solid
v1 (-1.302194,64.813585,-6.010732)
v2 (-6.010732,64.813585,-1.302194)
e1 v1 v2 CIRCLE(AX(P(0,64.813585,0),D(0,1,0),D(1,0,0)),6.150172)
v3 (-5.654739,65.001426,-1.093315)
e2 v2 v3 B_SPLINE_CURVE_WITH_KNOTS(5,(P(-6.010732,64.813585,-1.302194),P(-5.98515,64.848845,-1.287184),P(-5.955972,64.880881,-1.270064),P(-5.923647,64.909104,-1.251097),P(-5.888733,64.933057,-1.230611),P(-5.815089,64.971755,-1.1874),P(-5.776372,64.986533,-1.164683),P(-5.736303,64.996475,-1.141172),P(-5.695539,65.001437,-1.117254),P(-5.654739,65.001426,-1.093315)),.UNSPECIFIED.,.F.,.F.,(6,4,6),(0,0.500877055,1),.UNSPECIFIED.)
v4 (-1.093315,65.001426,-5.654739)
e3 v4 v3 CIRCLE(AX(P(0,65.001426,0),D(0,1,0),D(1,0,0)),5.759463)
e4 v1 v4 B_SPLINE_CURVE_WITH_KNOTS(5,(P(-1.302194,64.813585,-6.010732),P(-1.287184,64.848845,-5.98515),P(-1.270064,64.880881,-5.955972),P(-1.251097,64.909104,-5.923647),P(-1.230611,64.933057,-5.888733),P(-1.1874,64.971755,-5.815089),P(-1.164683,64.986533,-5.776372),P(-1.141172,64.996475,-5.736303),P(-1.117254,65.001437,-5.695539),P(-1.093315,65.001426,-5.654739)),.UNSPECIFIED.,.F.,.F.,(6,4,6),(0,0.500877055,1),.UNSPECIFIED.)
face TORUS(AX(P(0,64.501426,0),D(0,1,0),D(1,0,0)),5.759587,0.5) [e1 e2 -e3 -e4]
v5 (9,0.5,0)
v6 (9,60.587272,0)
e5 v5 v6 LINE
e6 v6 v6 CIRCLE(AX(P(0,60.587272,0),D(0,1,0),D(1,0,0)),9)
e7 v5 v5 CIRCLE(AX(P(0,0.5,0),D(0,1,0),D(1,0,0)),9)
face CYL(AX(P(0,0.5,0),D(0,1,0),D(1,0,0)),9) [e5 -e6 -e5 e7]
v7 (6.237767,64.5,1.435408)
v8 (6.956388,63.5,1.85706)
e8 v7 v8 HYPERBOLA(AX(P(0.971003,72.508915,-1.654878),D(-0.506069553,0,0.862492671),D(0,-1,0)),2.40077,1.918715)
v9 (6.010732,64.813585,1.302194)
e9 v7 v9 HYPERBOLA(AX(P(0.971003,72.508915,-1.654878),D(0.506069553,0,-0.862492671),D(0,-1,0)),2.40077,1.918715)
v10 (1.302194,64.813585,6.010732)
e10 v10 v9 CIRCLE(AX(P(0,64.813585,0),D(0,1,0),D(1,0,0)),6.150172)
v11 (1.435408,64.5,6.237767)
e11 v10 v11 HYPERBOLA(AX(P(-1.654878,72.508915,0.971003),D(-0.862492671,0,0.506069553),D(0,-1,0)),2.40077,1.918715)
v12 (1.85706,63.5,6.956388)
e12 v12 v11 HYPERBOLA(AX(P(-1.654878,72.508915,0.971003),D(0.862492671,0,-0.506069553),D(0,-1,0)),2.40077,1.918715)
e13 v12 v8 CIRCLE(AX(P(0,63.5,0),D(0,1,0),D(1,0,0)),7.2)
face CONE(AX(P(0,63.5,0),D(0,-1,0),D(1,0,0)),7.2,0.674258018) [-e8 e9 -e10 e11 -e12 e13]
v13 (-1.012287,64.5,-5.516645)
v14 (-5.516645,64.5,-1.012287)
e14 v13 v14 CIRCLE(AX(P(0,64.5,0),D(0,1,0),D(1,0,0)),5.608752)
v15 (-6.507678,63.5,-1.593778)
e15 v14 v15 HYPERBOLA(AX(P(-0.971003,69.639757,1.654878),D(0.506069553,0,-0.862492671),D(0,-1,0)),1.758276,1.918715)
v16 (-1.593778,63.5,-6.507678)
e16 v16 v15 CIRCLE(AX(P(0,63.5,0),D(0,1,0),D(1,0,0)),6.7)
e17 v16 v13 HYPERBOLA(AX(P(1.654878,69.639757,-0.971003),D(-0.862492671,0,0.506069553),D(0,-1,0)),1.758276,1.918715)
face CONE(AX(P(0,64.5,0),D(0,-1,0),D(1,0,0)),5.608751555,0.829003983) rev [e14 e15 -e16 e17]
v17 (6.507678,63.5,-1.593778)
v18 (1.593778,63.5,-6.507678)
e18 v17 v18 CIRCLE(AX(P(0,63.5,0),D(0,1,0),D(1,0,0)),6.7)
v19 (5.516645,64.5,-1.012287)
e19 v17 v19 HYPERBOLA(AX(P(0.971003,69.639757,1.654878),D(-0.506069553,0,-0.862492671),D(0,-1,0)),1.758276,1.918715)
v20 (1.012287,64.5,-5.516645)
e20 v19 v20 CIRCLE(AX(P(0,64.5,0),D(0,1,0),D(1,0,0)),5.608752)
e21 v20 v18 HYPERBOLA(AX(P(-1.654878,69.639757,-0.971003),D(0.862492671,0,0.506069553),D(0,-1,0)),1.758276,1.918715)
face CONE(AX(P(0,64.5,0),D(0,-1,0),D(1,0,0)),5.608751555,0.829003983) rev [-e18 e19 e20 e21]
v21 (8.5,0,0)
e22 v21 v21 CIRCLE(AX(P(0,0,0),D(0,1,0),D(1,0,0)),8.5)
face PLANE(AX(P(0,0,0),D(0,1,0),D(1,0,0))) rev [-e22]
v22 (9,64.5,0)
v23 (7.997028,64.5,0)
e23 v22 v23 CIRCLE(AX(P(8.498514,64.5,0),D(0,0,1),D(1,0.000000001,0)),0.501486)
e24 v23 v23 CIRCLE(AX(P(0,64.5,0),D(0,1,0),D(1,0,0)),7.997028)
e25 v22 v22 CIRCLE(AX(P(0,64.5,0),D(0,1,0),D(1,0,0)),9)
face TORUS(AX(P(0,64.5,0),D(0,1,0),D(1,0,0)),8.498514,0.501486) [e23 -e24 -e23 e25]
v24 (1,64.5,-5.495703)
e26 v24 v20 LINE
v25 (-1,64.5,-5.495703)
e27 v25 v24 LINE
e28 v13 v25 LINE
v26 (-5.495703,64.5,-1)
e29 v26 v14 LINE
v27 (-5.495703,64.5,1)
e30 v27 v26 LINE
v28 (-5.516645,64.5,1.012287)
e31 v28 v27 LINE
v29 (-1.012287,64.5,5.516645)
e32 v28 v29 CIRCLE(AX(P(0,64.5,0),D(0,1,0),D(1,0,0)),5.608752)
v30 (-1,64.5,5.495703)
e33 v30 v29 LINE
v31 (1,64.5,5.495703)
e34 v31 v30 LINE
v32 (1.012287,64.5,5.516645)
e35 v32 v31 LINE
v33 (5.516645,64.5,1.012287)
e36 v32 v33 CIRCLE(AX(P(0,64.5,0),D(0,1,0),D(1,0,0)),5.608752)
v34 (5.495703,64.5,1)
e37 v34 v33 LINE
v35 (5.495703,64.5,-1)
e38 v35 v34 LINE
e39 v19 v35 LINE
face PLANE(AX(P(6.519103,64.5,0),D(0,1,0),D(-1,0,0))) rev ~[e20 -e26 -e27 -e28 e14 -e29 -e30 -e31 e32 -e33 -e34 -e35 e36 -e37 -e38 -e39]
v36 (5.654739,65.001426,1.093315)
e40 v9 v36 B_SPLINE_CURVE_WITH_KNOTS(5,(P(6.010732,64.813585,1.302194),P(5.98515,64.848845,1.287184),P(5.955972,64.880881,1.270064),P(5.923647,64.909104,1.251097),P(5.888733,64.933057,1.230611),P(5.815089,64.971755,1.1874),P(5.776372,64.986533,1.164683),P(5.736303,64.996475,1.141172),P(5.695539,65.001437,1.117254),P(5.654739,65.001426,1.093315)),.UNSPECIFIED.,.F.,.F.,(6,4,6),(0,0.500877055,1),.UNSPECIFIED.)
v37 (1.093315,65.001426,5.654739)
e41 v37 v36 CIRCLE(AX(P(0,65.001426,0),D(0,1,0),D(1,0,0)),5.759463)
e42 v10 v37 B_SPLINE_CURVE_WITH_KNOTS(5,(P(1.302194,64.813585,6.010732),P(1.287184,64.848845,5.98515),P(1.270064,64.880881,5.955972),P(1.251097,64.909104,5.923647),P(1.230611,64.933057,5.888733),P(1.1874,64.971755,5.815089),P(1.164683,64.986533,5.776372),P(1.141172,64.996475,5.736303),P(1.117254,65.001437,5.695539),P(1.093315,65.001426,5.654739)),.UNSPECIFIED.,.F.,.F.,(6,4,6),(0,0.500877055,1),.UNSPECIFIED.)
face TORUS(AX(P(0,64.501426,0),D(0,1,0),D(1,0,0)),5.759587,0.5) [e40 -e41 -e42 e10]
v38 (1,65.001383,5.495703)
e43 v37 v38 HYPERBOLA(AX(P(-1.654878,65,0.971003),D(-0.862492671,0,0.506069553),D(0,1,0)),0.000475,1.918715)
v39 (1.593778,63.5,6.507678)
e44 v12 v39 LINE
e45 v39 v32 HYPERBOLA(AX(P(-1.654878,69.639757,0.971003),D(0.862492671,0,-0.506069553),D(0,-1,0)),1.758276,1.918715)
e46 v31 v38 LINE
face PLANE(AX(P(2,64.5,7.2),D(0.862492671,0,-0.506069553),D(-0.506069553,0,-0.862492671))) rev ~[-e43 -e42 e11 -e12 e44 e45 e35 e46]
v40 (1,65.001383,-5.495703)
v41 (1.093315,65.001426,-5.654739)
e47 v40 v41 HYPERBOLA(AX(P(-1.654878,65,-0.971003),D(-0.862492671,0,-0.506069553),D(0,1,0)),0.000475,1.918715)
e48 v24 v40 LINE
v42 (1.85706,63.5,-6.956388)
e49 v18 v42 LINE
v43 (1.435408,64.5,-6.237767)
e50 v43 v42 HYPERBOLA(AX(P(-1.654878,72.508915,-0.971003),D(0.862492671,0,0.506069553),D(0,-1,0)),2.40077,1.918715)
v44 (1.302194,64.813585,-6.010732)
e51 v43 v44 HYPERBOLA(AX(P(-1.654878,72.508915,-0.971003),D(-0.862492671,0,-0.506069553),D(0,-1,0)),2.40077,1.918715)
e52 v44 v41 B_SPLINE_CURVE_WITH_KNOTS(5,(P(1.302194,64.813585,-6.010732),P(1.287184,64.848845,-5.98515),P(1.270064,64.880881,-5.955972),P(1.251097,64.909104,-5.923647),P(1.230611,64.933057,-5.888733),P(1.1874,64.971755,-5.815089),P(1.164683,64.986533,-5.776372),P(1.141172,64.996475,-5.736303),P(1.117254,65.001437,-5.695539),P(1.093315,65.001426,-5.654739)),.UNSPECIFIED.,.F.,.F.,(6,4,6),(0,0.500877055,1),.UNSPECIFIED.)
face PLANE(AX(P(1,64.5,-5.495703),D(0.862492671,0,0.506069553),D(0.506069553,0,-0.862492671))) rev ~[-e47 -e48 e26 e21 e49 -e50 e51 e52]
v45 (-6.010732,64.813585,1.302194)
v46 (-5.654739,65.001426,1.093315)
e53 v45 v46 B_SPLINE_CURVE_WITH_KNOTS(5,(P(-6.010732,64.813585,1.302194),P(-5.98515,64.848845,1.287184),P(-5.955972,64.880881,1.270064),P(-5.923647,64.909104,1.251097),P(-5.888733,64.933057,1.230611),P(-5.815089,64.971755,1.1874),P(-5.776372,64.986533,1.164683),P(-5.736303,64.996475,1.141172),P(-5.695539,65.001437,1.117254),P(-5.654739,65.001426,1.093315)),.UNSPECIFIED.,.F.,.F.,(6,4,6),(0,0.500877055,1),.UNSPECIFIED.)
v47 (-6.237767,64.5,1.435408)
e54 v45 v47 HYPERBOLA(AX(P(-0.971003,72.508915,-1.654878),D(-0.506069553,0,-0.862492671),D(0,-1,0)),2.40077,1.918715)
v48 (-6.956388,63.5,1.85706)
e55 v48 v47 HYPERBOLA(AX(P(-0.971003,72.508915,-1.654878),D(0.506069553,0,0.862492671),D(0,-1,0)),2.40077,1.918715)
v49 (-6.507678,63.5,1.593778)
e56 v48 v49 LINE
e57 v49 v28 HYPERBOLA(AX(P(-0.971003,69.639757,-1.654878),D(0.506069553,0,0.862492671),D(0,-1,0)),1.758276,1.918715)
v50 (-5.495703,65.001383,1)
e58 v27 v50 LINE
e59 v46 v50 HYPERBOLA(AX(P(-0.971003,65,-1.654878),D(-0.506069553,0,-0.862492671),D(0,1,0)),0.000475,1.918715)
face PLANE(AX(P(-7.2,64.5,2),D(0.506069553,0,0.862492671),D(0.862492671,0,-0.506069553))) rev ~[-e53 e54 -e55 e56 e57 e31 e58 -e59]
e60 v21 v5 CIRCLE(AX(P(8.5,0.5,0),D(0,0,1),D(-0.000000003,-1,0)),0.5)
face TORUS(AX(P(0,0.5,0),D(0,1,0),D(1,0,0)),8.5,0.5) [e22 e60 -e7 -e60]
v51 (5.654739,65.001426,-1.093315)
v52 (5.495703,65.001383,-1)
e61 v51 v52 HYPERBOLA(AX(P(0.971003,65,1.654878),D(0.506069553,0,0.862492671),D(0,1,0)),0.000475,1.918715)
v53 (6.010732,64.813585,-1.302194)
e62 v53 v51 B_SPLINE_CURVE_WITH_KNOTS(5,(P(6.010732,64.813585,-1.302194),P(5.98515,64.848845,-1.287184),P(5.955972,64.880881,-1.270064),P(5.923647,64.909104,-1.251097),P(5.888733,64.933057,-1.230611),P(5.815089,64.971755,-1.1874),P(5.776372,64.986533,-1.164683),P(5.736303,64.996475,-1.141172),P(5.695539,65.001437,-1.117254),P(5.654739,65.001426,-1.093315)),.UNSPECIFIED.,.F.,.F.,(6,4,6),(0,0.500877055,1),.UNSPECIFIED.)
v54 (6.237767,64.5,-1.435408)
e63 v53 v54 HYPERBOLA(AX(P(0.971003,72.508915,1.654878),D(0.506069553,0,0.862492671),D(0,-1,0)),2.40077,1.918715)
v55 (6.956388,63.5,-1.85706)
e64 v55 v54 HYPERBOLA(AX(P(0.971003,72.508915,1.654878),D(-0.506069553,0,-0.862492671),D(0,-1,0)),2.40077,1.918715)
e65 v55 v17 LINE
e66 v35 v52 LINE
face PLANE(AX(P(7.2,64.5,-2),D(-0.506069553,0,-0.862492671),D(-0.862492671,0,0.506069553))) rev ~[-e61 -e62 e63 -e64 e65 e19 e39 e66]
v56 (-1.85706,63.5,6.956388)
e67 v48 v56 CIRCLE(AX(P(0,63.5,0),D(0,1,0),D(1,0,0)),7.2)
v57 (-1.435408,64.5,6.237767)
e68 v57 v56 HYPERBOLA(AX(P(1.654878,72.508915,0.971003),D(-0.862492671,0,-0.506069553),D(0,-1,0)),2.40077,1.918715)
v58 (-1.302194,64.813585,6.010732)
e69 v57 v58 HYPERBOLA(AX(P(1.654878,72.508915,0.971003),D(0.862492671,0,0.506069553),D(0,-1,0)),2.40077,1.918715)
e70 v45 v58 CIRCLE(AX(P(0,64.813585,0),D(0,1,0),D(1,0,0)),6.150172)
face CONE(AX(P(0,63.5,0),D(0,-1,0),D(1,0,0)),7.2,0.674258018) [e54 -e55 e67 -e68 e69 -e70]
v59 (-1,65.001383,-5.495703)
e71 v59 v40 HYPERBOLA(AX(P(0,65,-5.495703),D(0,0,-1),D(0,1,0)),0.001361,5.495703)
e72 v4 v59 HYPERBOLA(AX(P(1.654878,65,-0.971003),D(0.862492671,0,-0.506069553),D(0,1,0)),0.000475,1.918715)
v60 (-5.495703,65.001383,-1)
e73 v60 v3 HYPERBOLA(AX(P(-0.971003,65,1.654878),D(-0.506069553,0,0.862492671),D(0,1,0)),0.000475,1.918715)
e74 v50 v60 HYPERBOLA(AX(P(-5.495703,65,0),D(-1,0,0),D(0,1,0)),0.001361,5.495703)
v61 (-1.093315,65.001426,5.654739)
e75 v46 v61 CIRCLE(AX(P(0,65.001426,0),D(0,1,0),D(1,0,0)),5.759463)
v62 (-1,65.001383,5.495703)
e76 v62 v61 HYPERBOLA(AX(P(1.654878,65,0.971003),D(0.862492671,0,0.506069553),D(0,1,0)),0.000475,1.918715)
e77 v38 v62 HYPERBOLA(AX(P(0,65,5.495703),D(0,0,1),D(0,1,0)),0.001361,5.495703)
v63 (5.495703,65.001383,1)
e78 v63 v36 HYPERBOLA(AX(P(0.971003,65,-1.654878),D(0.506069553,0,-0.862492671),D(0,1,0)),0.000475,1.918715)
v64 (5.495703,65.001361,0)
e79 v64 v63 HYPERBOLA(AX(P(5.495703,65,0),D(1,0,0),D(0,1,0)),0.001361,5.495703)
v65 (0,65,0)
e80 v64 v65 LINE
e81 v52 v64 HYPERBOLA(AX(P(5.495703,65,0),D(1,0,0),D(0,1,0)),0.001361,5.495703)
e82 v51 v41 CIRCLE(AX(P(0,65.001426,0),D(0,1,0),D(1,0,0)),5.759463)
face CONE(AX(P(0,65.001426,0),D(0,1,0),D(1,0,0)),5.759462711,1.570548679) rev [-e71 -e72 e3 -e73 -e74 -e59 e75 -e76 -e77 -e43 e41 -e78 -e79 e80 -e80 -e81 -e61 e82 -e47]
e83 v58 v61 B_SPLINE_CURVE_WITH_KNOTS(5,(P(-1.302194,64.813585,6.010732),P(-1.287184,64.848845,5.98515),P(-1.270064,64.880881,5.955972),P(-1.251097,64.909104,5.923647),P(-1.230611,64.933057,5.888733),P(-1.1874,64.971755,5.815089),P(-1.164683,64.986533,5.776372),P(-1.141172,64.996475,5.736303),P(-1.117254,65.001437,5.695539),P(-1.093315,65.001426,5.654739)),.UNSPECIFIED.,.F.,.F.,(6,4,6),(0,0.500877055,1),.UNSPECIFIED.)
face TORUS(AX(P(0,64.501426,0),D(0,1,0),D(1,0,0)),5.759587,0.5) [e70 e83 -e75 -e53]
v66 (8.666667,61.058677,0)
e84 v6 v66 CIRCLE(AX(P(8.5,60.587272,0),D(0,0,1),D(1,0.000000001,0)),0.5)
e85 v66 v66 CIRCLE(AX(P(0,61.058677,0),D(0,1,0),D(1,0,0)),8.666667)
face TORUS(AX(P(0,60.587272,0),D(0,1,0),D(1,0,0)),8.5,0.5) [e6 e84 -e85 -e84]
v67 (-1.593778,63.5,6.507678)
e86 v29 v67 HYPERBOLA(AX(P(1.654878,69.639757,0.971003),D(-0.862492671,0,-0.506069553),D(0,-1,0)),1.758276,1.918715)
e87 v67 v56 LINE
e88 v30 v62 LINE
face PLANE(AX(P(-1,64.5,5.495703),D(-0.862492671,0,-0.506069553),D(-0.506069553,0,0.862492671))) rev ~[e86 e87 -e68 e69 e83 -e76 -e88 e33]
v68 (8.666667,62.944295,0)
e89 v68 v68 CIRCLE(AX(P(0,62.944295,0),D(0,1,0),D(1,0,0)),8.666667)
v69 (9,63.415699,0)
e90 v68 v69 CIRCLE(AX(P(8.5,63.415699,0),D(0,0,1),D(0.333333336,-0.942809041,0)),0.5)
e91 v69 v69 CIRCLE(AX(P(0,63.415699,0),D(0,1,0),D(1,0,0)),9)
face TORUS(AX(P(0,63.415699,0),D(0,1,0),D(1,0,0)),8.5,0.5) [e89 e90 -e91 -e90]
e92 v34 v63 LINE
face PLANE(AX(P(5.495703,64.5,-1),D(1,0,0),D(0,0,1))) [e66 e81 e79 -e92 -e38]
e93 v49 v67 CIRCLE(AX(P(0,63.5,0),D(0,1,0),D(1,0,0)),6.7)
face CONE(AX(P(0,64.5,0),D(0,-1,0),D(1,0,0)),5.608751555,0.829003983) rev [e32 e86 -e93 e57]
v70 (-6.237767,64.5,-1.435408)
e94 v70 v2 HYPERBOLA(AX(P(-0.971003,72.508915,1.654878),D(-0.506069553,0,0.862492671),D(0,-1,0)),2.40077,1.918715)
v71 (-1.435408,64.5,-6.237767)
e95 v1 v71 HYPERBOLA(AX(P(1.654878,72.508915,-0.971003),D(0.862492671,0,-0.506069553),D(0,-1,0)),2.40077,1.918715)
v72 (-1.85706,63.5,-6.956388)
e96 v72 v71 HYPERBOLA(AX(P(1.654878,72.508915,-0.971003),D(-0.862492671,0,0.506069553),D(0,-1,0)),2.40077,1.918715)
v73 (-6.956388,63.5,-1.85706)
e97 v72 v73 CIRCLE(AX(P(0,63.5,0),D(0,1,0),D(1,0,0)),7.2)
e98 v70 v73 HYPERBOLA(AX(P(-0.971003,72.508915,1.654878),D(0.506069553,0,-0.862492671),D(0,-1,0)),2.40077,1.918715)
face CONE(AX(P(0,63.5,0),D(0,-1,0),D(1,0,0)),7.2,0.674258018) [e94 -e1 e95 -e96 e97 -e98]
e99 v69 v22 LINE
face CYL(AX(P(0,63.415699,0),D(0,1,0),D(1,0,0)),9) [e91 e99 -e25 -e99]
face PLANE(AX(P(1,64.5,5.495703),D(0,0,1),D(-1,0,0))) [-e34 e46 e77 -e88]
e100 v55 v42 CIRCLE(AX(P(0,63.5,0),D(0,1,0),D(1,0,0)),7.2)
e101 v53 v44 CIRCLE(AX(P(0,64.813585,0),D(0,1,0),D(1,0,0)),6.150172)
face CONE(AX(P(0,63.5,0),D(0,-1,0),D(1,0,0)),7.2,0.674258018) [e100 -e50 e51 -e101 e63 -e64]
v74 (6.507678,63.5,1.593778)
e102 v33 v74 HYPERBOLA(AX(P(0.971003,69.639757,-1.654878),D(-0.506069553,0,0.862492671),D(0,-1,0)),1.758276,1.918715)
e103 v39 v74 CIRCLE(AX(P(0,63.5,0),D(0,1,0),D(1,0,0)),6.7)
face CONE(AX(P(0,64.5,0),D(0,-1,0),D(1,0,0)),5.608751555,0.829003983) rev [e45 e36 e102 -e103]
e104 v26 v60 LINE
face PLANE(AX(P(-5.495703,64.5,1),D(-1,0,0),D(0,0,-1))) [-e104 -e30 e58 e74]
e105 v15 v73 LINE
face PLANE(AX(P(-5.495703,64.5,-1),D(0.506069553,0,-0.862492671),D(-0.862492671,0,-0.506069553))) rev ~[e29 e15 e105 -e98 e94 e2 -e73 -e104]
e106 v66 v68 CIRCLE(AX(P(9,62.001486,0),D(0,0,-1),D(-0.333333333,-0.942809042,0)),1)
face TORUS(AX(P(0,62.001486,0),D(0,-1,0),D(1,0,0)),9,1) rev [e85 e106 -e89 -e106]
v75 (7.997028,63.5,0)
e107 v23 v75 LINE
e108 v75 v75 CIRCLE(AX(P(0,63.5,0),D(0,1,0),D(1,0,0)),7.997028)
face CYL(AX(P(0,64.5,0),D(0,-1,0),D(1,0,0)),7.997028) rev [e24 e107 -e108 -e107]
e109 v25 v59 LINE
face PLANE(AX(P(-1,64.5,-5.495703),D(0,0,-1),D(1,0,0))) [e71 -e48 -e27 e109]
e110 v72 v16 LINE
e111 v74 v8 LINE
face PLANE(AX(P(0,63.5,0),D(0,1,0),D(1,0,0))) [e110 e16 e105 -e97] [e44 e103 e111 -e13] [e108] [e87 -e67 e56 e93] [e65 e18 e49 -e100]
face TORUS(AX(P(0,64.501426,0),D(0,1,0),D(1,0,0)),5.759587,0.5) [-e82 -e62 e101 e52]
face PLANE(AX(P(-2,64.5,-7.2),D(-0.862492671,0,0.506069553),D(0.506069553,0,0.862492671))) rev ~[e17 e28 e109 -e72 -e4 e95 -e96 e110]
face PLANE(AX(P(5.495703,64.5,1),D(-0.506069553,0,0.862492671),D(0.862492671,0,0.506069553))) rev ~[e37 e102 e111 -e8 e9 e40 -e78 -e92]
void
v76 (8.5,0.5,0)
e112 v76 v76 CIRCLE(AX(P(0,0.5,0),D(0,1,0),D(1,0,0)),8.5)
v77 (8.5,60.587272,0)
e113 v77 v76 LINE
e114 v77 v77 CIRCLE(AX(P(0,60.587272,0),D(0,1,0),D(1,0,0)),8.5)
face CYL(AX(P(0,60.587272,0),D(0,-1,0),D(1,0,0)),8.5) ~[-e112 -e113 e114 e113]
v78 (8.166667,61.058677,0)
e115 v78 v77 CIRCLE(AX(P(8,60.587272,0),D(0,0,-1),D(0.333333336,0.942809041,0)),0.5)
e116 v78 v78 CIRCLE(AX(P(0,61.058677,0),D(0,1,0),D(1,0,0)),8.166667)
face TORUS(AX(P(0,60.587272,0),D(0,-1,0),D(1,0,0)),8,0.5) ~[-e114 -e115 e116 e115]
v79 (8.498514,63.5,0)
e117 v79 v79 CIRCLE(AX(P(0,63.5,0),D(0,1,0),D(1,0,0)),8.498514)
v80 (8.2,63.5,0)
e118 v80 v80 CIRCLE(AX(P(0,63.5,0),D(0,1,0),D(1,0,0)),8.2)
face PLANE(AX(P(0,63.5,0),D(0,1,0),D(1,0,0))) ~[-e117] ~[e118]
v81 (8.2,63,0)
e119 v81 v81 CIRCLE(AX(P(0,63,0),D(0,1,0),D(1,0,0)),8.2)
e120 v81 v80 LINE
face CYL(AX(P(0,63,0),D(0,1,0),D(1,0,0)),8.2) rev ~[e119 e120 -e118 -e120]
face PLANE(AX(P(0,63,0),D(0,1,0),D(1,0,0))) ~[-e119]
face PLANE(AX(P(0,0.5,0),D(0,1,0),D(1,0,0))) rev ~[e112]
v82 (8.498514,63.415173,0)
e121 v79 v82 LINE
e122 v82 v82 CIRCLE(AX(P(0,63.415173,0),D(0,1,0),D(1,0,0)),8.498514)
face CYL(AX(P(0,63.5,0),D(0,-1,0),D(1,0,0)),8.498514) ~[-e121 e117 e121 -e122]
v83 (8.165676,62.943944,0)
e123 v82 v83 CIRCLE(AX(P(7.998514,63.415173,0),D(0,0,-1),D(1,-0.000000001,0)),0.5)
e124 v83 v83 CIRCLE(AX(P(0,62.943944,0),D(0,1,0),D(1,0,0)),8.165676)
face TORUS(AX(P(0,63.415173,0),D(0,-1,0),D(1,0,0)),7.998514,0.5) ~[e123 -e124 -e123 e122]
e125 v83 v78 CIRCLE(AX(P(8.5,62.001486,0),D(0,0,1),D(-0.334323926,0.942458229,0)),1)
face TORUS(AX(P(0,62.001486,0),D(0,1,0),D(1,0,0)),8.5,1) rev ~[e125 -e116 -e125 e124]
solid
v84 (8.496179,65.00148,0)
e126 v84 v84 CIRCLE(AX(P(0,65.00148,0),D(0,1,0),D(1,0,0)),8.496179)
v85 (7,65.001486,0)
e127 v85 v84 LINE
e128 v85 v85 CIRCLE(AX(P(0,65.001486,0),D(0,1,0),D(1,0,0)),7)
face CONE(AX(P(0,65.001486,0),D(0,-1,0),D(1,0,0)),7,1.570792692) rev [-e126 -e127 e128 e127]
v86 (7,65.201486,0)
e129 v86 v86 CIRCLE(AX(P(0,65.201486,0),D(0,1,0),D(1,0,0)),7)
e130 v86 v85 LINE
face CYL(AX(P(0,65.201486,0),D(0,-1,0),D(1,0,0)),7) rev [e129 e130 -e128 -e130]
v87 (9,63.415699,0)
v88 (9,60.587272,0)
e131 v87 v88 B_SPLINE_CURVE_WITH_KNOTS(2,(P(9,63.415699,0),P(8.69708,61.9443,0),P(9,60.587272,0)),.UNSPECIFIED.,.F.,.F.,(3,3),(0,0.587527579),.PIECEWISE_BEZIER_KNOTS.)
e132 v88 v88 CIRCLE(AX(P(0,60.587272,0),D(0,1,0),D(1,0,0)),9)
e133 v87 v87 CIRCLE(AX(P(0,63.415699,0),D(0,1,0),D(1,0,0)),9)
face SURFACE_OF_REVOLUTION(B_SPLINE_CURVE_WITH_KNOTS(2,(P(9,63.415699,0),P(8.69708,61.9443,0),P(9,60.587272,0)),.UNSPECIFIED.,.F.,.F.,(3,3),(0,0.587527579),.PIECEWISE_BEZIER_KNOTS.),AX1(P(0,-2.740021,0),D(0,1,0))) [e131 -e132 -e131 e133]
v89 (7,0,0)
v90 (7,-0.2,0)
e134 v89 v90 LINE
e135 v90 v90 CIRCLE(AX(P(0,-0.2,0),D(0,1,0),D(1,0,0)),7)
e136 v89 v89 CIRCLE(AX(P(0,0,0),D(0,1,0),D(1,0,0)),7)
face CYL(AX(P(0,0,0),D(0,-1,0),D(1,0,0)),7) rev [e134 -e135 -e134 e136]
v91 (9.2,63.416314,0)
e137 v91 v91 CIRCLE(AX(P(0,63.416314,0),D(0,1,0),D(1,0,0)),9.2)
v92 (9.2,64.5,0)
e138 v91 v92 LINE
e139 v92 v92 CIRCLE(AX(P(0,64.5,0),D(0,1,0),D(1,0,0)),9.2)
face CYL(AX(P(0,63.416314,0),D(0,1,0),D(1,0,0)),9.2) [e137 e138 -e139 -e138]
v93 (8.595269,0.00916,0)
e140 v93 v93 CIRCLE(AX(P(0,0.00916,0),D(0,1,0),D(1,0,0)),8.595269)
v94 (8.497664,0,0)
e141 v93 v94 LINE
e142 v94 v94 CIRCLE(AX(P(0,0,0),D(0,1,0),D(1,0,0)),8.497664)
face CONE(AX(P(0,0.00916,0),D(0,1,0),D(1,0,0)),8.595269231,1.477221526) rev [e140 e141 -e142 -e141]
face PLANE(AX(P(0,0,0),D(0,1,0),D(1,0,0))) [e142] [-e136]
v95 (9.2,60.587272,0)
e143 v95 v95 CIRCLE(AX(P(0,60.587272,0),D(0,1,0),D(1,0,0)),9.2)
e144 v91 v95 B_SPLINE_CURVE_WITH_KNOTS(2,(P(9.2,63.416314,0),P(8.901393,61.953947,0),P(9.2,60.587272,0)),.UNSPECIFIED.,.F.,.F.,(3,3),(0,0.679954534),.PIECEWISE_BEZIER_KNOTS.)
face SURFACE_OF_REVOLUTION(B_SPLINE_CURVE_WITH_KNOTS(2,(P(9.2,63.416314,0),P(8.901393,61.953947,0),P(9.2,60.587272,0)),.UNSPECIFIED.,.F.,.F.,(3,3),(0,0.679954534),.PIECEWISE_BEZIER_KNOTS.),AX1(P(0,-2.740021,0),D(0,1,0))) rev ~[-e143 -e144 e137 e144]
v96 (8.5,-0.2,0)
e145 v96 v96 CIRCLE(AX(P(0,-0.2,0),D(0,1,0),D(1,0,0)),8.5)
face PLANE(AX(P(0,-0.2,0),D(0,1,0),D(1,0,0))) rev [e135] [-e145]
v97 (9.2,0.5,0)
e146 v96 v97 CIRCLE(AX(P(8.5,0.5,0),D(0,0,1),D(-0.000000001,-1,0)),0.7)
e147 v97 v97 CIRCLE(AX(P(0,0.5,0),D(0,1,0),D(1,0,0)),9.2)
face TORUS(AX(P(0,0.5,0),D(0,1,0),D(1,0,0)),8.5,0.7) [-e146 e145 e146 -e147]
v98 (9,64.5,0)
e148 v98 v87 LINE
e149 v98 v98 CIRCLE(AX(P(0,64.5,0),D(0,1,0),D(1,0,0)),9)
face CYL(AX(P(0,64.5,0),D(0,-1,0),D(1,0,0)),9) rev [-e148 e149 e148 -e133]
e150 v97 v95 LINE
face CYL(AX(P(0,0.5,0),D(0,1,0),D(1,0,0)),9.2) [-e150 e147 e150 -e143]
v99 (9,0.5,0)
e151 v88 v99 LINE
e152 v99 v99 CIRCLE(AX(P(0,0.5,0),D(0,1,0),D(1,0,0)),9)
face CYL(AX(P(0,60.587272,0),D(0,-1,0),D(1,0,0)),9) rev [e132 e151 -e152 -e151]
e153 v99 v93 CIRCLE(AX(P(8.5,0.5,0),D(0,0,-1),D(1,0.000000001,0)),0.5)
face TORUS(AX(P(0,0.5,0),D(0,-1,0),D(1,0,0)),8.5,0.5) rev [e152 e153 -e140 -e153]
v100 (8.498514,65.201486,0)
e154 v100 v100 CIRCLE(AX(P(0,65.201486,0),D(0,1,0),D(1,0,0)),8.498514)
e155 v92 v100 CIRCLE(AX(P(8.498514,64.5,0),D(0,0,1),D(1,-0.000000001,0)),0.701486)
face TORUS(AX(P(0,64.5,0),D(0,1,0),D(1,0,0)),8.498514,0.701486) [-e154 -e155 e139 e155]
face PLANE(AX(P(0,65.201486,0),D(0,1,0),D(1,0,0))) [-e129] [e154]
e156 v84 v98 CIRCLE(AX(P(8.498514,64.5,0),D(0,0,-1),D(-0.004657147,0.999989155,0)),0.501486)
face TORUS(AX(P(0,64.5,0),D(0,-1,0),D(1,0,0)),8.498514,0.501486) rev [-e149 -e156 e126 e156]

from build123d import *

# Parameters (mm, degrees)
CUT_EXTRUDE_1_DEPTH      = 1
CUT_EXTRUDE_1_DEPTH_BACK = 1.501485988


with BuildPart() as part:
    # Эскиз1 → Повернуть1 (revolve)
    with BuildSketch(Plane.XY):
        with BuildLine():
            Line((0, 0.5), (0, 0))
            Line((0, 0), (8.5, 0))
            ThreePointArc((8.5, 0), (8.853553391, 0.146446609), (9, 0.5))
            Line((9, 0.5), (9, 60.587272326))
            ThreePointArc((9, 60.587272326), (8.90824829, 60.875947461), (8.666666667, 61.058676847))
            ThreePointArc((8.666666667, 61.058676847), (8, 62.001485888), (8.666666667, 62.94429493))
            ThreePointArc((8.666666667, 62.94429493), (8.90824829, 63.127024316), (9, 63.415699451))
            Line((9, 63.415699451), (9, 64.5))
            ThreePointArc((9, 64.5), (8.498514112, 65.001485888), (7.997028223, 64.5))
            Line((7.997028223, 64.5), (7.997028223, 63.5))
            Line((7.997028223, 63.5), (7.2, 63.5))
            Line((7.2, 63.5), (6.150171734, 64.813585272))
            ThreePointArc((6.150171734, 64.813585272), (5.976233912, 64.95205247), (5.759462711, 65.00142632))
            Line((5.759462711, 65.00142632), (0, 65))
            Line((0, 65), (0, 64.5))
            Line((0, 64.5), (5.608751555, 64.5))
            Line((5.608751555, 64.5), (6.7, 63.5))
            Line((6.7, 63.5), (0, 63.5))
            Line((0, 63.5), (0, 63))
            Line((0, 63), (8.2, 63))
            Line((8.2, 63), (8.2, 63.5))
            Line((8.2, 63.5), (8.498514112, 63.5))
            Line((8.498514112, 63.5), (8.498514112, 63.415173231))
            ThreePointArc((8.498514112, 63.415173231), (8.406914027, 63.126712646), (8.165676074, 62.943944117))
            ThreePointArc((8.165676074, 62.943944117), (7.500000138, 62.00096045), (8.166666667, 61.058676847))
            ThreePointArc((8.166666667, 61.058676847), (8.40824829, 60.875947461), (8.5, 60.587272326))
            Line((8.5, 60.587272326), (8.5, 0.5))
            Line((8.5, 0.5), (0, 0.5))
        make_face()
    revolve(axis=Axis((0, 0, 0), (0, 1, 0)))

    # Эскиз2 → Вырез-Вытянуть1 (cut, two sides)
    with BuildSketch(Plane.XZ.offset(-64.5)) as cut_extrude_1_sk:
        Polygon((-1, -5.495703298), (1, -5.495703298), (2, -7.2), (-2, -7.2), align=None)
        Polygon((-5.495703298, 1), (-5.495703298, -1), (-7.2, -2), (-7.2, 2), align=None)
        Polygon((1, 5.495703298), (-1, 5.495703298), (-2, 7.2), (2, 7.2), align=None)
        Polygon((5.495703298, -1), (5.495703298, 1), (7.2, 2), (7.2, -2), align=None)
    extrude(amount=CUT_EXTRUDE_1_DEPTH, mode=Mode.SUBTRACT)
    extrude(cut_extrude_1_sk.sketch, amount=-CUT_EXTRUDE_1_DEPTH_BACK, mode=Mode.SUBTRACT)


with BuildPart() as body_2:
    # Эскиз3 → Повернуть4 (revolve)
    with BuildSketch(Plane.XY):
        with BuildLine():
            Line((8.497664073, 0), (7, 0))
            Line((7, 0), (7, -0.2))
            Line((7, -0.2), (8.5, -0.2))
            ThreePointArc((8.5, -0.2), (8.994974747, 0.005025253), (9.2, 0.5))
            Line((9.2, 0.5), (9.2, 60.587272326))
            add(Edge.make_bspline(
                [(9.2, 63.416313782), (8.901392965, 61.953947415), (9.2, 60.587272326)],
                knots=[0, 0, 0, 0.679954534, 0.679954534, 0.679954534], degree=2))
            Line((9.2, 63.416313782), (9.2, 64.5))
            ThreePointArc((9.2, 64.5), (8.99453954, 64.996025429), (8.498514112, 65.201485888))
            Line((8.498514112, 65.201485888), (7, 65.201485888))
            Line((7, 65.201485888), (7, 65.001485888))
            Line((7, 65.001485888), (8.496178619, 65.00148045))
            ThreePointArc((8.496178619, 65.00148045), (8.852291499, 64.855428835), (9, 64.5))
            Line((9, 64.5), (9, 63.415699451))
            add(Edge.make_bspline(
                [(9, 63.415699451), (8.697080045, 61.944299731), (9, 60.587272326)],
                knots=[0, 0, 0, 0.587527579, 0.587527579, 0.587527579], degree=2))
            Line((9, 60.587272326), (9, 0.5))
            ThreePointArc((9, 0.5), (8.885768464, 0.18190773), (8.595269231, 0.009160135))
            Line((8.595269231, 0.009160135), (8.497664073, 0))
        make_face()
    revolve(axis=Axis((0, -2.74002086, 0), (0, 1, 0)))


solid = Compound([part.part, body_2.part])
